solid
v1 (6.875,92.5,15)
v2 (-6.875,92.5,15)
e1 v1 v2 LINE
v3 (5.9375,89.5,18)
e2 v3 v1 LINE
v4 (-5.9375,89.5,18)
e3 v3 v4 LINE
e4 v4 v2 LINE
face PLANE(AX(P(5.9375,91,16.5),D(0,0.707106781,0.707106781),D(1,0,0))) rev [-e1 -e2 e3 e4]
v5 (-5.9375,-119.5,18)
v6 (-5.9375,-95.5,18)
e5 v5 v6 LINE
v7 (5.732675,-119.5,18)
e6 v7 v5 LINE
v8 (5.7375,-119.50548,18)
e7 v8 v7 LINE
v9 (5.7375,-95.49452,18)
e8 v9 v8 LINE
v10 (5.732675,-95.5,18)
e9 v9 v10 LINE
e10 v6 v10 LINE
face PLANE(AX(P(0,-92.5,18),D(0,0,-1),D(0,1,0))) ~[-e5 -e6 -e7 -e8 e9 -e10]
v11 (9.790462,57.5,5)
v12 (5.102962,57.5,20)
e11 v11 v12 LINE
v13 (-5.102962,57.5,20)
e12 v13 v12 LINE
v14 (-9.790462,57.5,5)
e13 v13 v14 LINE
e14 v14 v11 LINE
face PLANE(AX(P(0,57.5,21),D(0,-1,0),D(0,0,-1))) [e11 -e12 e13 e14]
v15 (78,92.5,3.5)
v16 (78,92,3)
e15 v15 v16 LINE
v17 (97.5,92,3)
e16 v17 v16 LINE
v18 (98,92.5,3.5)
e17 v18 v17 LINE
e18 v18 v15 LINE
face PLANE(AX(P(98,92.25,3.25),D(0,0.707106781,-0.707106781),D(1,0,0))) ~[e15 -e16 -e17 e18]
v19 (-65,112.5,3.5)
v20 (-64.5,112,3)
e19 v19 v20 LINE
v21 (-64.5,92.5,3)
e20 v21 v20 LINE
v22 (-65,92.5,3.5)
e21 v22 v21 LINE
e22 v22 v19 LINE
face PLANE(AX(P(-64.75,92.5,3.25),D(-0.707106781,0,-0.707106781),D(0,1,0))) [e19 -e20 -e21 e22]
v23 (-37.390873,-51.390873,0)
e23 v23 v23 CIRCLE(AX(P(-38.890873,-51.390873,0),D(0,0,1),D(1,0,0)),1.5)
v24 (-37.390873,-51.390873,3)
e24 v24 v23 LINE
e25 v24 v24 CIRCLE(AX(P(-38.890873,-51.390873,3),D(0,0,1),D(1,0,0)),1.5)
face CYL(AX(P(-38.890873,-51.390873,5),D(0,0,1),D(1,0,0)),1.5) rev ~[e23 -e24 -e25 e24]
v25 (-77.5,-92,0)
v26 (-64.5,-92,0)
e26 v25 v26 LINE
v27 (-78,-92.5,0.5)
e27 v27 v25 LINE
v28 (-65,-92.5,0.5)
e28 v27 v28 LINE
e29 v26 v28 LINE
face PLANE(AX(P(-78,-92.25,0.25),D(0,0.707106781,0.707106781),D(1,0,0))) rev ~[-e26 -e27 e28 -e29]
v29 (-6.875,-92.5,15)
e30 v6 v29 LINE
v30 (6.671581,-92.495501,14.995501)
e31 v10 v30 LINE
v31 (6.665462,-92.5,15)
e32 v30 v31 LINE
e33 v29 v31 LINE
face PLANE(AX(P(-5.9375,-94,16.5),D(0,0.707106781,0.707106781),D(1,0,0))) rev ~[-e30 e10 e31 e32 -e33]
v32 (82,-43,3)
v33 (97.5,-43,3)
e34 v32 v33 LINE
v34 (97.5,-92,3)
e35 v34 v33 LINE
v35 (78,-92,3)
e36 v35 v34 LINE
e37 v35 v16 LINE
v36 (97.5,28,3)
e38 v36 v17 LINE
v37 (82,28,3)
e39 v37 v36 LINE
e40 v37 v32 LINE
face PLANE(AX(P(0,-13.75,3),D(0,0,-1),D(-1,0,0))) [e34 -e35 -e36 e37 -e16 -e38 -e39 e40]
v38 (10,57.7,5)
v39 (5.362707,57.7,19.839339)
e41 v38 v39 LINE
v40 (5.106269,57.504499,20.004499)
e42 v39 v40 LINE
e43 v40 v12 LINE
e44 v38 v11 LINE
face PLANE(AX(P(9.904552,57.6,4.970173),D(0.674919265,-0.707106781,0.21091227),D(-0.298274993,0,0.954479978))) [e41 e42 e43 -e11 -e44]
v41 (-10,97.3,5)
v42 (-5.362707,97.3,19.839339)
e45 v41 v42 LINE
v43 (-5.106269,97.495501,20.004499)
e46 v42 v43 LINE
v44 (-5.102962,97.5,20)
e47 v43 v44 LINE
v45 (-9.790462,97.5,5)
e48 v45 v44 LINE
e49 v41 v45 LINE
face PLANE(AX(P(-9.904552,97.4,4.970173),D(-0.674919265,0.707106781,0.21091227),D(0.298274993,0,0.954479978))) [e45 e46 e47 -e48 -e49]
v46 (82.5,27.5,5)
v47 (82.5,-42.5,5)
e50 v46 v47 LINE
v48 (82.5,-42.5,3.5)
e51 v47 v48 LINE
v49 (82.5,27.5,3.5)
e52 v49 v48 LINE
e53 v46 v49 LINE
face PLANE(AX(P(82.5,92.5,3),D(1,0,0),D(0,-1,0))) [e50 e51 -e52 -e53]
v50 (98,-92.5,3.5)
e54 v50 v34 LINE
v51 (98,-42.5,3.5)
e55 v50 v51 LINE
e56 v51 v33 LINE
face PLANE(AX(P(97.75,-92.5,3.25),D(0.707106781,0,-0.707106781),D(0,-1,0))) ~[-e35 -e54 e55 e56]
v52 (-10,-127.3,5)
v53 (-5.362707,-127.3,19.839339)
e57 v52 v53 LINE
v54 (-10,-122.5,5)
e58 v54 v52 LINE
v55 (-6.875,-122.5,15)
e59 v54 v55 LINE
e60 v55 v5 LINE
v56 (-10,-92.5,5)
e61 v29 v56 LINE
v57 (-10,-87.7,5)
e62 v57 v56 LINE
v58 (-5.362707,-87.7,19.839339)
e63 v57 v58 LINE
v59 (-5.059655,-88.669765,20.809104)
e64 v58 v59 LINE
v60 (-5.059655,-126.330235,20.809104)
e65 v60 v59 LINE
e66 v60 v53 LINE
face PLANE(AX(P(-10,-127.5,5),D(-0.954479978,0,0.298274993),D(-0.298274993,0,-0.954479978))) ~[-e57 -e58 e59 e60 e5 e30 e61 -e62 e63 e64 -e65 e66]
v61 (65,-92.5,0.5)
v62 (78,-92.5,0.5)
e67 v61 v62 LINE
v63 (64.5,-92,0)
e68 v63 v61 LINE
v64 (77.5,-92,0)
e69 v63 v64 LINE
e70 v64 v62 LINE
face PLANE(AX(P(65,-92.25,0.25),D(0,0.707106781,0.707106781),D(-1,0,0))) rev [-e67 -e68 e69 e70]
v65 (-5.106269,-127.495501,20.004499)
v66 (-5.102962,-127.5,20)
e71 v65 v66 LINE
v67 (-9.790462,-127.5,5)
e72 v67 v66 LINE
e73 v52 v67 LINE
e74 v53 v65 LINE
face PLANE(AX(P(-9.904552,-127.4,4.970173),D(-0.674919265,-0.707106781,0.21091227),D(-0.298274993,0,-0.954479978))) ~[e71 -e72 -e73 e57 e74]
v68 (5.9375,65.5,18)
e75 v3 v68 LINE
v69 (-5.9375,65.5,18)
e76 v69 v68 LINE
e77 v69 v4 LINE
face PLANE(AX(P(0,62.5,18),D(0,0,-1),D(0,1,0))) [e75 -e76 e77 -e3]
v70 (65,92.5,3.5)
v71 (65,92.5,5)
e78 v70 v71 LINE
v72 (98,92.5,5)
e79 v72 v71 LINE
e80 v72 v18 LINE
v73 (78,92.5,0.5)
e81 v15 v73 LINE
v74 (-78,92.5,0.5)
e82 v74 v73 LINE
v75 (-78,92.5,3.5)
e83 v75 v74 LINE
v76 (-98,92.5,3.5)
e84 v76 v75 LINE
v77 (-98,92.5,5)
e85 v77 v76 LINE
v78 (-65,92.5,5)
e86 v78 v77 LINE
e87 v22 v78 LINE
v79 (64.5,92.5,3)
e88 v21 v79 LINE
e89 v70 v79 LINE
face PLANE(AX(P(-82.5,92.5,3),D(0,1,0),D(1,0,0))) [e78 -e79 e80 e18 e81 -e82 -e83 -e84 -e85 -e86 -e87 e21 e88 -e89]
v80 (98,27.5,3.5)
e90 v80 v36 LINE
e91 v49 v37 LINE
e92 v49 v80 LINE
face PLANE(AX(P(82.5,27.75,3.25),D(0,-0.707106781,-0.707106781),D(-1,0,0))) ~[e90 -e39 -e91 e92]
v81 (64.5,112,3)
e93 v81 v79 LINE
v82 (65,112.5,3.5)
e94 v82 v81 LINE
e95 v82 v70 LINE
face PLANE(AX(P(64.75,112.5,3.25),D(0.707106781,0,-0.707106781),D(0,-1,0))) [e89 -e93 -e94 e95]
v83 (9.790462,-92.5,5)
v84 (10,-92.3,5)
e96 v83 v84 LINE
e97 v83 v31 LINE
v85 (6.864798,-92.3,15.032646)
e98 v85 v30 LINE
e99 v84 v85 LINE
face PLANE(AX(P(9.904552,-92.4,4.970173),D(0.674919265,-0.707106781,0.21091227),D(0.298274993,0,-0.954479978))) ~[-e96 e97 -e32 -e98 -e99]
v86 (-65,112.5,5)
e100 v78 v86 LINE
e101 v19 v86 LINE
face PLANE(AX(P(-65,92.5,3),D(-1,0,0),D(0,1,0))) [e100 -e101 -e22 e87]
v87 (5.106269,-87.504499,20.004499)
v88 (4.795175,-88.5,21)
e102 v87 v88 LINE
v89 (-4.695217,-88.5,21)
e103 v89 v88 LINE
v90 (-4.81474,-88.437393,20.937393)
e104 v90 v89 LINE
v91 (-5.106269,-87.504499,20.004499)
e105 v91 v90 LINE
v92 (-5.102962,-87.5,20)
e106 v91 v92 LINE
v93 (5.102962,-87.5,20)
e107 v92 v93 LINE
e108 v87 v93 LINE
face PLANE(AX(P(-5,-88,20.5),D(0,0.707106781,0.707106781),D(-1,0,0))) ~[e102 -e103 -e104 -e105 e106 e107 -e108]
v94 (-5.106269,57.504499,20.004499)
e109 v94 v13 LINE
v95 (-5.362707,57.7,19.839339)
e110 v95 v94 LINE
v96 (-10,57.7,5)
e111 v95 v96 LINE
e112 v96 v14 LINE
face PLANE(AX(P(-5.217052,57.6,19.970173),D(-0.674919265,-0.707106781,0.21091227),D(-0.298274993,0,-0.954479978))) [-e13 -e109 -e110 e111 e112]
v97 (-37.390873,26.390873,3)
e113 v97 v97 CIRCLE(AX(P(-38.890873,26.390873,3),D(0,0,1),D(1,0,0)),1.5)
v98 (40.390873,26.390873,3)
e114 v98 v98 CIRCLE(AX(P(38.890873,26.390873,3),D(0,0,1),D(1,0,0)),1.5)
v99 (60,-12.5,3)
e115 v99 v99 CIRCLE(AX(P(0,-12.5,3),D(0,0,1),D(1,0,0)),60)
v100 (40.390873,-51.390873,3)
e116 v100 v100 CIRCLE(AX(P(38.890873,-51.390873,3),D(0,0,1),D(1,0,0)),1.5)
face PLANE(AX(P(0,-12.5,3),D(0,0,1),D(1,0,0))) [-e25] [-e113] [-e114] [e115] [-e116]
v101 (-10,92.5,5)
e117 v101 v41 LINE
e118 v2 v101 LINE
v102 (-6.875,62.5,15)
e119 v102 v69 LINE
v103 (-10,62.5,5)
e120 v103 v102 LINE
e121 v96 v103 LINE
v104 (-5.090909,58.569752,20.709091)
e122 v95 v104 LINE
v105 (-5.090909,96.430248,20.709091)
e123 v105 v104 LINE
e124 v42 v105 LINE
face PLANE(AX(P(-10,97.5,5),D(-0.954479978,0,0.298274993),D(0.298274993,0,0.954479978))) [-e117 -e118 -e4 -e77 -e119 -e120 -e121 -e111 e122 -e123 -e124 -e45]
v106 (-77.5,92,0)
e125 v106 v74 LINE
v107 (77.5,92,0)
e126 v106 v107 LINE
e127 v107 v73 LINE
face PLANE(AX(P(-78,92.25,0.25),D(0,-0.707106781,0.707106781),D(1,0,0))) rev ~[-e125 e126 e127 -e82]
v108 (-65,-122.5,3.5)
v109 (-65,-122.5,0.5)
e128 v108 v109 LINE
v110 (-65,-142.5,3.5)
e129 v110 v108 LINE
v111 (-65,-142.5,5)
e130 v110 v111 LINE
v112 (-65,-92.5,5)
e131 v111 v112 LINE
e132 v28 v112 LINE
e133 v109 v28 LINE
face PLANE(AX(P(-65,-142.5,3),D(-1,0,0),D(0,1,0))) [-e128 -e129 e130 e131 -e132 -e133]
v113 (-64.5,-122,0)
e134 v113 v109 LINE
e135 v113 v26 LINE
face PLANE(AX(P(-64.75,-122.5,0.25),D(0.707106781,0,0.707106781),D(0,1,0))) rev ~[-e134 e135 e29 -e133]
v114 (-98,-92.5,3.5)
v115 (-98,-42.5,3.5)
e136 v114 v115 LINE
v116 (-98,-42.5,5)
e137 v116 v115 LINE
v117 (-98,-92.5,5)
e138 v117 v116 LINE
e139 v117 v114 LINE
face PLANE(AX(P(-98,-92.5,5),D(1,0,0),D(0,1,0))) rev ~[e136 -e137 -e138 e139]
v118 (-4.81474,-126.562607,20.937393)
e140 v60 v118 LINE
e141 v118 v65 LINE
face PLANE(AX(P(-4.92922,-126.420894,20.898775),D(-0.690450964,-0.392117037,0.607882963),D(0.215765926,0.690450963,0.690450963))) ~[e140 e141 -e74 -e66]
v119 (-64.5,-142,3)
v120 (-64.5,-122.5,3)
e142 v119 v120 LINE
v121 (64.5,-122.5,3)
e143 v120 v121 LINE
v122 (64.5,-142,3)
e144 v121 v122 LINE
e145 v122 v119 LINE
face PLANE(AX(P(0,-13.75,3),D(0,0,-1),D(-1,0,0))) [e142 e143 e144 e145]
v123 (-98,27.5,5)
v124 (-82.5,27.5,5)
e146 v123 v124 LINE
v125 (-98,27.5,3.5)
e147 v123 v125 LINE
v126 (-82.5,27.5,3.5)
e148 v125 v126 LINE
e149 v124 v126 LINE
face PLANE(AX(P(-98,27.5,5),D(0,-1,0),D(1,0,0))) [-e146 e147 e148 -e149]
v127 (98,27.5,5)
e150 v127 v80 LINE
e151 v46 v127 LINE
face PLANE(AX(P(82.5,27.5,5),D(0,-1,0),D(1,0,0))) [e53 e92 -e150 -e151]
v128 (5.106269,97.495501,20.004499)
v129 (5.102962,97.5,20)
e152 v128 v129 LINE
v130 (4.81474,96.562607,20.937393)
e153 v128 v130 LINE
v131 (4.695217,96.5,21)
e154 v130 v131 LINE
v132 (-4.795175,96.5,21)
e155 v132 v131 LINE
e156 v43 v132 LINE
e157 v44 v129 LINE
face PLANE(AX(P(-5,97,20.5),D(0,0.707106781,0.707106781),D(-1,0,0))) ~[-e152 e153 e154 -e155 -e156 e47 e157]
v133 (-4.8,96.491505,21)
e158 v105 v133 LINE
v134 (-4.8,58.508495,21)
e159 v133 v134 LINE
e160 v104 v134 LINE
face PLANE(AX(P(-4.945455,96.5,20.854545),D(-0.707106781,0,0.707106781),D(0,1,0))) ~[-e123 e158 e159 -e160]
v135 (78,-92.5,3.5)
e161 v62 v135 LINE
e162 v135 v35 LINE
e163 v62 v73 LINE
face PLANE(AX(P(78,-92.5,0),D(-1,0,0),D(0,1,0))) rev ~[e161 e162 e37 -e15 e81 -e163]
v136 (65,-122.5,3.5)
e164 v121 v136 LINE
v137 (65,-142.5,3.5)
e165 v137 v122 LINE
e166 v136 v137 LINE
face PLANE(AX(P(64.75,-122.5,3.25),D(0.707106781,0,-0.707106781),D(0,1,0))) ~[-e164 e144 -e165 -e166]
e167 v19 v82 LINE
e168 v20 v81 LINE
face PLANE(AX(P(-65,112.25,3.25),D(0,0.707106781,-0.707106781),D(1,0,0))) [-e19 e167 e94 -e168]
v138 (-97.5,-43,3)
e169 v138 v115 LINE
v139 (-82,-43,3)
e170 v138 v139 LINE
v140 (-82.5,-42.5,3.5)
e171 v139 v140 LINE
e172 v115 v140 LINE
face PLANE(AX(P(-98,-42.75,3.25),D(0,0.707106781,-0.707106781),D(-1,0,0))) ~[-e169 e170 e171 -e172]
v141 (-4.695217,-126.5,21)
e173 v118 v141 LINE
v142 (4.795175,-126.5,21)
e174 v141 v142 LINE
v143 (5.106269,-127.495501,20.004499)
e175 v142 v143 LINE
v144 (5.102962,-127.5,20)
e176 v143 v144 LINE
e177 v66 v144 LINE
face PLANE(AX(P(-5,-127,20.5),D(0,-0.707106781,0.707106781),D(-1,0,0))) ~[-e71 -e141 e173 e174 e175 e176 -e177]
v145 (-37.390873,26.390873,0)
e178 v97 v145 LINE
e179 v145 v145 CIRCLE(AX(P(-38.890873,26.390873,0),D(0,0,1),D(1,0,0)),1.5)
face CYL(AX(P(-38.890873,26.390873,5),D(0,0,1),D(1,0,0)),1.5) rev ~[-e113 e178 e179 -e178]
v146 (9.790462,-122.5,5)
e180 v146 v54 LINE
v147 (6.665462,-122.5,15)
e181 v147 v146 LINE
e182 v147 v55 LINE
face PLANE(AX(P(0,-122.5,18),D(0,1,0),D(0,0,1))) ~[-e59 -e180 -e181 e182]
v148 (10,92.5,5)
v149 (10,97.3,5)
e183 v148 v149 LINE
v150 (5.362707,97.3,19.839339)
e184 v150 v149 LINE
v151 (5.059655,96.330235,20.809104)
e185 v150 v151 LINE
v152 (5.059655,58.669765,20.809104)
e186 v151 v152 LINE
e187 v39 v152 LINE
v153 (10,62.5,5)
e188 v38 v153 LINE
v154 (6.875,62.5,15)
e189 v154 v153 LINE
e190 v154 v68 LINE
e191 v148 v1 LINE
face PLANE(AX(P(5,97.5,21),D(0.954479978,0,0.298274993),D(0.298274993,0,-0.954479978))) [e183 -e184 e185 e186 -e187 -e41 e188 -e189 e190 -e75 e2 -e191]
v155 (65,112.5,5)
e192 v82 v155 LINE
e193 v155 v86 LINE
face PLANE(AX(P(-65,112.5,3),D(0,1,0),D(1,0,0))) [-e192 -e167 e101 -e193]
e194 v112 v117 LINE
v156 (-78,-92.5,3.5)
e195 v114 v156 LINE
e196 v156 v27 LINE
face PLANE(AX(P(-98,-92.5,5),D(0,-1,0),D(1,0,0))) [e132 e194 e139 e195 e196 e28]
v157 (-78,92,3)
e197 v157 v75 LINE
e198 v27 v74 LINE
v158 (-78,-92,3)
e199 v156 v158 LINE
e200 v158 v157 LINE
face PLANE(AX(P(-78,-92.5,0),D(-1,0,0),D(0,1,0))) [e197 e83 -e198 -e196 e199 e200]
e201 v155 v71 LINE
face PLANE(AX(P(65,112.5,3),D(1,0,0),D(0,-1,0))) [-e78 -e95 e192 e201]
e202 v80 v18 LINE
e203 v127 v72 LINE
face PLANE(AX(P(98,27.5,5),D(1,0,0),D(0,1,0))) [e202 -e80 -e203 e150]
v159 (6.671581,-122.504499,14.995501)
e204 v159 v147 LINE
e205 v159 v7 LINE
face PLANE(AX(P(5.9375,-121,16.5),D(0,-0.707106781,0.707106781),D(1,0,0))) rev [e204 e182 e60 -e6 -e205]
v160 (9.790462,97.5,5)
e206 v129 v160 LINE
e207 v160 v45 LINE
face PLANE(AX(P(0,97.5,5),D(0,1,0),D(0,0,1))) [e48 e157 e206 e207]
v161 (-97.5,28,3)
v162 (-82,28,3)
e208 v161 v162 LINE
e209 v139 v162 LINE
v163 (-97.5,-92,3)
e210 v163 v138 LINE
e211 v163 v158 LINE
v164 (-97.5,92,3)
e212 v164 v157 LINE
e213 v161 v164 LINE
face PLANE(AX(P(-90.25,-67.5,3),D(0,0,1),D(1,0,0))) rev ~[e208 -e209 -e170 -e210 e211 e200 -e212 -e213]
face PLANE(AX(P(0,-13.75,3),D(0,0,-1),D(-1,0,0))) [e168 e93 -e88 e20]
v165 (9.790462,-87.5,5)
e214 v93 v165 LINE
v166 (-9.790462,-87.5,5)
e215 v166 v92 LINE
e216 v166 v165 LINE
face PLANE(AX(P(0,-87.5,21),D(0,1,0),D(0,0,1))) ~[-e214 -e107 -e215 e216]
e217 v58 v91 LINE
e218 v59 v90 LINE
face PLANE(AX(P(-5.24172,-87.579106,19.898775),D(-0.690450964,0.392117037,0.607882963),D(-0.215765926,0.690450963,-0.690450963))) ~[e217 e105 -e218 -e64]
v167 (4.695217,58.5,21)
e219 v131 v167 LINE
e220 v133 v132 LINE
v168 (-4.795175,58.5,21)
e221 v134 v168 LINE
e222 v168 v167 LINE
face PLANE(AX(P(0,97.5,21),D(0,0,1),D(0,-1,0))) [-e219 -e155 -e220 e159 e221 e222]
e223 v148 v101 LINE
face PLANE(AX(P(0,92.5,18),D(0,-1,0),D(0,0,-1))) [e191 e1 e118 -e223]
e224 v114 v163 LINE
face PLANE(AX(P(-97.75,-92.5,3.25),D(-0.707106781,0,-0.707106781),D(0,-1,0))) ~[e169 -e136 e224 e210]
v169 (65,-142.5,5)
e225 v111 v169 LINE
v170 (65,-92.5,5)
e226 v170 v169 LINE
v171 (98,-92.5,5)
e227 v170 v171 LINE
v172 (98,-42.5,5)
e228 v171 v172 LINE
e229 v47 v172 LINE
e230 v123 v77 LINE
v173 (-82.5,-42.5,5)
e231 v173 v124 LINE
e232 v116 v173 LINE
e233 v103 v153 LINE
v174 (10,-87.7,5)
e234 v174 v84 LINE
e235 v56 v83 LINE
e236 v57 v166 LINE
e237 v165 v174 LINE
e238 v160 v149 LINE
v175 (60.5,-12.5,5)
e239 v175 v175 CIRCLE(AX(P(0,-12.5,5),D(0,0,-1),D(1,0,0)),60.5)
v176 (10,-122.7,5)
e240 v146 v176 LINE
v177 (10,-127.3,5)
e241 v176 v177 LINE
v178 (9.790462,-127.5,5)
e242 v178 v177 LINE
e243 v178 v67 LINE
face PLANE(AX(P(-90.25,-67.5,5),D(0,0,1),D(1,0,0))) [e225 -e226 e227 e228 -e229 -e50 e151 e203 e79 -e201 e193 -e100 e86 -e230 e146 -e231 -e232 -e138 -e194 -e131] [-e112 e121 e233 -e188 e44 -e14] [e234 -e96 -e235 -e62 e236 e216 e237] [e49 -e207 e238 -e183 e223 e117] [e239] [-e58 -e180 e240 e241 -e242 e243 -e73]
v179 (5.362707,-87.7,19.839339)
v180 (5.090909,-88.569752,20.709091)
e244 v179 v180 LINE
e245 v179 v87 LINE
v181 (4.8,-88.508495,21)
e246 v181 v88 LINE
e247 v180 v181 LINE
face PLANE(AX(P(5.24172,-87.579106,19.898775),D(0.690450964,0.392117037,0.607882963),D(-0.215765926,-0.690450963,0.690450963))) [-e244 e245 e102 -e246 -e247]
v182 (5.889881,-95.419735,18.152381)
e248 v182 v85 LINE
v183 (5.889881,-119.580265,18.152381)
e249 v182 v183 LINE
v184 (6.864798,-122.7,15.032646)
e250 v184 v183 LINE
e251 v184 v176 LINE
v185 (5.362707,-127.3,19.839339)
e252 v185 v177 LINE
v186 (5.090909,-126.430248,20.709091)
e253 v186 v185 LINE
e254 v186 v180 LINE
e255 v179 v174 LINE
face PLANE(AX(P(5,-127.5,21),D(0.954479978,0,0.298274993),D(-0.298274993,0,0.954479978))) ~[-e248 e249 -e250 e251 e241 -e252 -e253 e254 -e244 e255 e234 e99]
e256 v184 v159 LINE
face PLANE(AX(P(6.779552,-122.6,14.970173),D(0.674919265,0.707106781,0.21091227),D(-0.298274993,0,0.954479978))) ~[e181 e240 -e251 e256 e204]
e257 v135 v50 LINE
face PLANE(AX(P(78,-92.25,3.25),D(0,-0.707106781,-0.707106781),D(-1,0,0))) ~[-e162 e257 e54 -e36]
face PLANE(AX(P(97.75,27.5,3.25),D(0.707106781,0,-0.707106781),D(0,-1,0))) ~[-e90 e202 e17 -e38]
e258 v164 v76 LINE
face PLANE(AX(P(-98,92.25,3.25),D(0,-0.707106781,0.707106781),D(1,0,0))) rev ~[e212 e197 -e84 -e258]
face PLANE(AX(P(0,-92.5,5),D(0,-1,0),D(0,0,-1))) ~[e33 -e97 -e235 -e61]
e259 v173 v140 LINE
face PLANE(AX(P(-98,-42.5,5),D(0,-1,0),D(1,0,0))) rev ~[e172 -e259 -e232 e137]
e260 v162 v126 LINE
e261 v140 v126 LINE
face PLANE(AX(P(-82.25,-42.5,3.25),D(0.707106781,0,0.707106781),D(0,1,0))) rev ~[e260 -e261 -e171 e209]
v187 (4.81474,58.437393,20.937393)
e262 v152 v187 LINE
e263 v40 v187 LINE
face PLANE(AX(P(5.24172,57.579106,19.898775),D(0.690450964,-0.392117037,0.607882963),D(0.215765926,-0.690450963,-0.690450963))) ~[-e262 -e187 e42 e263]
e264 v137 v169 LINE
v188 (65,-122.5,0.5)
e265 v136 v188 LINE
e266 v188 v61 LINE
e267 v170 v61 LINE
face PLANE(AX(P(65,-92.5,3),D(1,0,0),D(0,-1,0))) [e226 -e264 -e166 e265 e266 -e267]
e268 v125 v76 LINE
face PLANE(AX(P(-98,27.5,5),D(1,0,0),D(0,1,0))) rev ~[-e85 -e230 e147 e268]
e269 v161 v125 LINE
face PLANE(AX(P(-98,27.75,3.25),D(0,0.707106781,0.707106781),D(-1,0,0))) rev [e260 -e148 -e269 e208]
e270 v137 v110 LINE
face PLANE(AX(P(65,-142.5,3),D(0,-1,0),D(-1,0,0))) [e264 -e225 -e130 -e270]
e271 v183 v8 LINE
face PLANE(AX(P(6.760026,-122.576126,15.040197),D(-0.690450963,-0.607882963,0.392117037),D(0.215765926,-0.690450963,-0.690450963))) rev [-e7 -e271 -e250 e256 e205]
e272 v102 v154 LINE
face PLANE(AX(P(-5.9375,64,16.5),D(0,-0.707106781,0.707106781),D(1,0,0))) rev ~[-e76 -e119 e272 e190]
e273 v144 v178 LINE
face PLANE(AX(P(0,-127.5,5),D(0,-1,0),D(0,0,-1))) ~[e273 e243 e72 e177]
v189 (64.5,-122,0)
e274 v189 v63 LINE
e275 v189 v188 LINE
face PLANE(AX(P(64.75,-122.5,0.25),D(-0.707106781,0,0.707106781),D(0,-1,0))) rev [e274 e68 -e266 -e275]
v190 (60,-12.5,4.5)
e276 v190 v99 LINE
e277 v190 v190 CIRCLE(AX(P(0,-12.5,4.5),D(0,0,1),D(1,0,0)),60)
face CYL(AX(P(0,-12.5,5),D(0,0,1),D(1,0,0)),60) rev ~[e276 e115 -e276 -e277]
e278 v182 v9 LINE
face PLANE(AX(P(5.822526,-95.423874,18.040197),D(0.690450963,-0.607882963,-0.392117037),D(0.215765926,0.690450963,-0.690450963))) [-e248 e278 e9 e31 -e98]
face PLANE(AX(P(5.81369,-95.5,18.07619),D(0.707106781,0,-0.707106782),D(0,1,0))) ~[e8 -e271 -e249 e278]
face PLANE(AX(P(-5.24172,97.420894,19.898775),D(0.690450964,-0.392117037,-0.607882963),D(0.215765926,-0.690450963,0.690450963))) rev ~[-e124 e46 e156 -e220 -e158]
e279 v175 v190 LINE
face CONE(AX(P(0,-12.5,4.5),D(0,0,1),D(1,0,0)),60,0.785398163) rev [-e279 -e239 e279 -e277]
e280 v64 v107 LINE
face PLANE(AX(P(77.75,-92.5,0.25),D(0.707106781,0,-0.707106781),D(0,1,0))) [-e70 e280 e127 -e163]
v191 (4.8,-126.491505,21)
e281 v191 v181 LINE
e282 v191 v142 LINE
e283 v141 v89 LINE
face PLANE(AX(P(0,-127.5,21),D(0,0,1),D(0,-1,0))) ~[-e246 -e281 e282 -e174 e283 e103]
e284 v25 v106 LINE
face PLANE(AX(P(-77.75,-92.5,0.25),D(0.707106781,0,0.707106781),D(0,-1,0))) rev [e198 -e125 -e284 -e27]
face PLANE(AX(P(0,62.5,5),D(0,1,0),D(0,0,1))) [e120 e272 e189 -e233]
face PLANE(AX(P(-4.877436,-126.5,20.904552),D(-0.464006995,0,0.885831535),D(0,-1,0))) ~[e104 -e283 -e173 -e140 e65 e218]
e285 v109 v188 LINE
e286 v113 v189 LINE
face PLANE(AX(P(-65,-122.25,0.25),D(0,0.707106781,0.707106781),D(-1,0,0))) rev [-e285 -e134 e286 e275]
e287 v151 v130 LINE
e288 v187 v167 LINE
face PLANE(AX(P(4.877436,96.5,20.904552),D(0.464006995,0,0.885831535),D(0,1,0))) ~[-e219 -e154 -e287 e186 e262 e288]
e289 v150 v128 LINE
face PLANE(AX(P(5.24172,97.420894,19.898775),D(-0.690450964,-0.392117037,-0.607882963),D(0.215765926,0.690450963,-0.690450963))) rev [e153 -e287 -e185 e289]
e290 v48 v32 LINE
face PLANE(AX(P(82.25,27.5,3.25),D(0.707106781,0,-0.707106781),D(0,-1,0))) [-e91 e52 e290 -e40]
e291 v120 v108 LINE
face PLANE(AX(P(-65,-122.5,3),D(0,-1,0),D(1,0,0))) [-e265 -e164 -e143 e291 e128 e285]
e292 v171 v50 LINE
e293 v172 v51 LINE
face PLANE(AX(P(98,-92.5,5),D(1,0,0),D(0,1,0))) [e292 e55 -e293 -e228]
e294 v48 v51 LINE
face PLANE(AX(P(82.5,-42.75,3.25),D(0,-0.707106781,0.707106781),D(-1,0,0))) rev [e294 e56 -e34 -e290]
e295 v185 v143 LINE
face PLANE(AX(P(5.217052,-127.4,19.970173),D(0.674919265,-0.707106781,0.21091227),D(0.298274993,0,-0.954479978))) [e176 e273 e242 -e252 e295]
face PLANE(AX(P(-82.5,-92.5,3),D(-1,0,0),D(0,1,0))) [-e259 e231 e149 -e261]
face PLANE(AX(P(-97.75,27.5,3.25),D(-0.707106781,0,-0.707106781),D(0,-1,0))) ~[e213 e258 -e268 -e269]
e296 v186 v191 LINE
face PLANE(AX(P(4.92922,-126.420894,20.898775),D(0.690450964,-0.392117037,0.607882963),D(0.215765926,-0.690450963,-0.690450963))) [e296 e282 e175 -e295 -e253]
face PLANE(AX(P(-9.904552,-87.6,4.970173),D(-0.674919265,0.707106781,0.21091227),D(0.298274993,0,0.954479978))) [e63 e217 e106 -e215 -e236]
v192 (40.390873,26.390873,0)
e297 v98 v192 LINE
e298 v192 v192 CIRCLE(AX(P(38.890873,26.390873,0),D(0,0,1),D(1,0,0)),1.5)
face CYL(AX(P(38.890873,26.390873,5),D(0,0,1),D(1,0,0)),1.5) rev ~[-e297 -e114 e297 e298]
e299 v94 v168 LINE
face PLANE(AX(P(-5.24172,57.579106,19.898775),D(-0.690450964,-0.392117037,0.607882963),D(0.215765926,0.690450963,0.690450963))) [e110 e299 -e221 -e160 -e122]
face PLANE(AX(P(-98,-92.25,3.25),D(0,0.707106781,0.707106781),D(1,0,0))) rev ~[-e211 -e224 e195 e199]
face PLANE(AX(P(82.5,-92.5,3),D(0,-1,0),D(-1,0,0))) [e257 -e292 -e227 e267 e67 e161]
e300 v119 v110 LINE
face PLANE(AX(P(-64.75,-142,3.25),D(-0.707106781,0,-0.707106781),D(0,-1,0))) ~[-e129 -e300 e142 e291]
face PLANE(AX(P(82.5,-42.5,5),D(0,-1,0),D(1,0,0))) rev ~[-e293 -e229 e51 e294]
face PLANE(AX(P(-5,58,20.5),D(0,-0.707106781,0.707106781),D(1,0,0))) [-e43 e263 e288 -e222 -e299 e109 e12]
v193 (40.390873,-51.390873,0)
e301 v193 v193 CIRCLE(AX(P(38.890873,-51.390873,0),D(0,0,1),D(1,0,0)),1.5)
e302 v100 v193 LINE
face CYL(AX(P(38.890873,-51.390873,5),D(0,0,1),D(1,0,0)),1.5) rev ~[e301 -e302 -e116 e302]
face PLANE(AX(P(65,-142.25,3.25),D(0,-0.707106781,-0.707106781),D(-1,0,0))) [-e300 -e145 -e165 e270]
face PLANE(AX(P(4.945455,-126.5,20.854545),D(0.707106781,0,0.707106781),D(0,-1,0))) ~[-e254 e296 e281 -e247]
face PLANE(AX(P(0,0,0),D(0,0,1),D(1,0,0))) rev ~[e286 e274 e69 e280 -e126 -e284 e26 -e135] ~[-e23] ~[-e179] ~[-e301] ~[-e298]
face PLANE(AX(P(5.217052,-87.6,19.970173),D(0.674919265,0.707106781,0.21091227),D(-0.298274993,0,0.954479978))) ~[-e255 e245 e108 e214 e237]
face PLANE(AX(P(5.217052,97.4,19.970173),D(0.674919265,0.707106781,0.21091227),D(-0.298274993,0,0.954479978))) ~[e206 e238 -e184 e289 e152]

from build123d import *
from OCP.BRepFilletAPI import BRepFilletAPI_MakeChamfer

# Parameters (mm, degrees)
SKETCH_1_W          = 156
SKETCH_1_H          = 185
EXTRUDE_1_DEPTH     = 3
SKETCH_2_W          = 130
SKETCH_2_H          = 30
EXTRUDE_2_DEPTH     = 3
EXTRUDE_3_DEPTH     = 2
SKETCH_4_W          = 15.5
SKETCH_4_H          = 50
SKETCH_4_H_2        = 65
EXTRUDE_4_DEPTH     = 2
SKETCH_5_R          = 1.5
CUT_EXTRUDE_1_DEPTH = 174.018062641
CHAMFER_1_SIZE      = 0.5
CHAMFER_2_SIZE      = 0.5
CHAMFER_3_SIZE      = 0.5
SKETCH_6_R          = 60
CUT_EXTRUDE_2_DEPTH = 2
CHAMFER_4_SIZE      = 0.5
EXTRUDE_5_DEPTH     = 10
CUT_EXTRUDE_3_DEPTH = 261.086524065
CHAMFER_5_SIZE      = 3
CHAMFER_6_SIZE      = 1
CHAMFER_7_SIZE      = 0.2
CHAMFER_7_SIZE2     = 0.159648139
CHAMFER_7_SIZE2_2   = 0.168291059
CHAMFER_7_SIZE2_3   = 0.304782811
CHAMFER_7_SIZE2_4   = 0.260894728


with BuildPart() as part:
    # 草图1 → 凸台-拉伸1 (new body)
    with BuildSketch(Plane.XY):
        Rectangle(SKETCH_1_W, SKETCH_1_H)
    extrude(amount=EXTRUDE_1_DEPTH)

    # 草图2 → 凸台-拉伸2 (add)
    with BuildSketch(Plane.XY.offset(3)):
        with Locations((0, -107.5)):
            Rectangle(SKETCH_2_W, SKETCH_2_H)
    extrude(amount=-EXTRUDE_2_DEPTH)

    # 草图3 → 凸台-拉伸3 (add)
    with BuildSketch(Plane.XY.offset(3)):
        Polygon((-82.5, 92.5), (-65, 92.5), (-65, 112.5), (65, 112.5), (65, 92.5), (82.5, 92.5), (82.5, -92.5), (65, -92.5), (65, -142.5), (-65, -142.5), (-65, -92.5), (-82.5, -92.5), align=None)
    extrude(amount=EXTRUDE_3_DEPTH)

    # 草图4 → 凸台-拉伸4 (add)
    with BuildSketch(Plane.XY.offset(5)):
        with Locations((-90.25, -67.5)):
            Rectangle(SKETCH_4_W, SKETCH_4_H)
        with Locations((-90.25, 60)):
            Rectangle(SKETCH_4_W, SKETCH_4_H_2)
        with Locations((90.25, 60)):
            Rectangle(SKETCH_4_W, SKETCH_4_H_2)
        with Locations((90.25, -67.5)):
            Rectangle(SKETCH_4_W, SKETCH_4_H)
    extrude(amount=-EXTRUDE_4_DEPTH)

    # 草图5 → 切除-拉伸1 (cut, through all)
    with BuildSketch(Plane.XY.offset(5)):
        with Locations((-38.890872965, 26.390872965)):
            Circle(SKETCH_5_R)
        with Locations((38.890872965, 26.390872965)):
            Circle(SKETCH_5_R)
        with Locations((38.890872965, -51.390872965)):
            Circle(SKETCH_5_R)
        with Locations((-38.890872965, -51.390872965)):
            Circle(SKETCH_5_R)
    extrude(amount=-CUT_EXTRUDE_1_DEPTH, mode=Mode.SUBTRACT)

    # 倒角1
    chamfer_1_edges = [part.edges().sort_by_distance(p)[0] for p in [
        (71.5, -92.5, 0),
        (-65, -107.5, 0),
        (65, -107.5, 0),
        (0, -122.5, 0),
        (0, 92.5, 0),
        (78, 0, 0),
        (-71.5, -92.5, 0),
        (-78, 0, 0),
    ]]
    chamfer(chamfer_1_edges, length=CHAMFER_1_SIZE)

    # 倒角2
    chamfer_2_edges = [part.edges().sort_by_distance(p)[0] for p in [
        (-88, 92.5, 3),
        (88, 92.5, 3),
        (-82.5, -7.5, 3),
        (-90.25, 27.5, 3),
        (-98, 60, 3),
        (-88, -92.5, 3),
        (-98, -67.5, 3),
        (-90.25, -42.5, 3),
        (98, 60, 3),
        (90.25, 27.5, 3),
        (82.5, -7.5, 3),
        (90.25, -42.5, 3),
        (98, -67.5, 3),
        (88, -92.5, 3),
        (-65, 102.5, 3),
        (65, 102.5, 3),
        (0, 112.5, 3),
        (0, -142.5, 3),
        (65, -132.5, 3),
    ]]
    chamfer(chamfer_2_edges, length=CHAMFER_2_SIZE)

    # 倒角3
    chamfer_3_edges = [part.edges().sort_by_distance(p)[0] for p in [
        (-65, -132.25, 3),
    ]]
    chamfer(chamfer_3_edges, length=CHAMFER_3_SIZE)

    # 草图6 → 切除-拉伸2 (cut)
    with BuildSketch(Plane.XY.offset(5)):
        with Locations((0, -12.5)):
            Circle(SKETCH_6_R)
    extrude(amount=-CUT_EXTRUDE_2_DEPTH, mode=Mode.SUBTRACT)

    # 倒角4
    chamfer_4_edges = [part.edges().sort_by_distance(p)[0] for p in [
        (-60, -12.5, 5),
    ]]
    chamfer(chamfer_4_edges, length=CHAMFER_4_SIZE)

    # 草图7 → 凸台-拉伸5 (add, symmetric)
    with BuildSketch(Plane(origin=(0, 0, 0), x_dir=(0, 0, -1), z_dir=(1, 0, 0))):
        Polygon((-5, 97.5), (-21, 97.5), (-21, 57.5), (-5, 57.5), (-5, 62.5), (-18, 62.5), (-18, 92.5), (-5, 92.5), align=None)
    extrude_5 = extrude(amount=EXTRUDE_5_DEPTH, both=True)

    # 草图8 → 切除-拉伸3 (cut, through all)
    with BuildSketch(Plane(origin=(0, 97.5, 0), x_dir=(1, 0, 0), z_dir=(0, 1, 0))):
        Polygon((-10, -5), (-5, -21), (-10, -21), align=None)
        Polygon((10, -5), (10, -21), (5, -21), align=None)
    cut_extrude_3 = extrude(amount=-CUT_EXTRUDE_3_DEPTH, mode=Mode.SUBTRACT)

    # 镜向2: 凸台-拉伸5, 切除-拉伸3 across plane
    add(extrude_5.mirror(Plane(origin=(0, -15, 0), x_dir=(0, 0, 1), z_dir=(0, -1, 0))))
    add(cut_extrude_3.mirror(Plane(origin=(0, -15, 0), x_dir=(0, 0, 1), z_dir=(0, -1, 0))), mode=Mode.SUBTRACT)

    # 倒角5
    chamfer_5_edges = [part.edges().sort_by_distance(p)[0] for p in [
        (0, 62.5, 18),
        (0, 92.5, 18),
        (0, -122.5, 18),
        (0, -92.5, 18),
    ]]
    chamfer(chamfer_5_edges, length=CHAMFER_5_SIZE)

    # 倒角6
    chamfer_6_edges = [part.edges().sort_by_distance(p)[0] for p in [
        (0, 97.5, 21),
        (0, 57.5, 21),
        (0, -87.5, 21),
        (0, -127.5, 21),
    ]]
    chamfer(chamfer_6_edges, length=CHAMFER_6_SIZE)

    # 倒角7: one chamfer whose edges measure the first distance from different faces: ONE call of the kernel's chamfer builder (chamfer() names one face for all edges)
    chamfer_7_edges_1 = [part.edges().sort_by_distance(p)[0] for p in [
        (-7.65625, 57.5, 12.5),
        (7.65625, 97.5, 12.5),
        (7.65625, -87.5, 12.5),
        (7.65625, -127.5, 12.5),
        (8.4375, -122.5, 10),
        (8.4375, -92.5, 10),
        (-7.65625, -87.5, 12.5),
        (-7.65625, -127.5, 12.5),
        (7.65625, 57.5, 12.5),
        (-7.65625, 97.5, 12.5),
    ]]
    chamfer_7_edges_2 = [part.edges().sort_by_distance(p)[0] for p in [
        (5.9375, -107.5, 18),
    ]]
    chamfer_7_side_2 = [part.faces().sort_by_distance(p)[0] for p in [
        (0, -107.5, 18),
    ]]
    chamfer_7_edges_3 = [part.edges().sort_by_distance(p)[0] for p in [
        (6.40625, -121, 16.5),
    ]]
    chamfer_7_side_3 = [part.faces().sort_by_distance(p)[0] for p in [
        (0, -121.036585366, 16.463414634),
    ]]
    chamfer_7_edges_4 = [part.edges().sort_by_distance(p)[0] for p in [
        (6.40625, -94, 16.5),
    ]]
    chamfer_7_side_4 = [part.faces().sort_by_distance(p)[0] for p in [
        (0, -93.963414634, 16.463414634),
    ]]
    chamfer_7_edges_5 = [part.edges().sort_by_distance(p)[0] for p in [
        (5, -107.5, 21),
    ]]
    chamfer_7_side_5 = [part.faces().sort_by_distance(p)[0] for p in [
        (0, -107.5, 21),
    ]]
    chamfer_7_edges_6 = [part.edges().sort_by_distance(p)[0] for p in [
        (5.15625, -127, 20.5),
        (-5.15625, -127, 20.5),
    ]]
    chamfer_7_side_6 = [part.faces().sort_by_distance(p)[0] for p in [
        (0, -127.005050505, 20.494949495),
    ]]
    chamfer_7_edges_7 = [part.edges().sort_by_distance(p)[0] for p in [
        (5.15625, -88, 20.5),
        (-5.15625, -88, 20.5),
    ]]
    chamfer_7_side_7 = [part.faces().sort_by_distance(p)[0] for p in [
        (0, -87.994949495, 20.494949495),
    ]]
    chamfer_7_edges_8 = [part.edges().sort_by_distance(p)[0] for p in [
        (-5, -107.5, 21),
    ]]
    chamfer_7_side_8 = [part.faces().sort_by_distance(p)[0] for p in [
        (-7.65625, -87.933704969, 12.5),
    ]]
    chamfer_7_edges_9 = [part.edges().sort_by_distance(p)[0] for p in [
        (-5, 77.5, 21),
    ]]
    chamfer_7_side_9 = [part.faces().sort_by_distance(p)[0] for p in [
        (0, 77.5, 21),
    ]]
    chamfer_7_edges_10 = [part.edges().sort_by_distance(p)[0] for p in [
        (5, 77.5, 21),
    ]]
    chamfer_7_side_10 = [part.faces().sort_by_distance(p)[0] for p in [
        (7.65625, 97.066295031, 12.5),
    ]]
    chamfer_7_edges_11 = [part.edges().sort_by_distance(p)[0] for p in [
        (5.15625, 97, 20.5),
        (-5.15625, 97, 20.5),
    ]]
    chamfer_7_side_11 = [part.faces().sort_by_distance(p)[0] for p in [
        (0, 97.005050505, 20.494949495),
    ]]
    chamfer_7_edges_12 = [part.edges().sort_by_distance(p)[0] for p in [
        (5.15625, 58, 20.5),
        (-5.15625, 58, 20.5),
    ]]
    chamfer_7_side_12 = [part.faces().sort_by_distance(p)[0] for p in [
        (0, 57.994949495, 20.494949495),
    ]]
    chamfer_7 = BRepFilletAPI_MakeChamfer(part.part.solid().wrapped)
    for e in chamfer_7_edges_1:
        chamfer_7.Add(CHAMFER_7_SIZE, e.wrapped)
    for e in chamfer_7_edges_2:
        chamfer_7.Add(CHAMFER_7_SIZE, CHAMFER_7_SIZE2, e.wrapped, chamfer_7_side_2[0].wrapped)  # the first distance lies on this face
    for e in chamfer_7_edges_3:
        chamfer_7.Add(CHAMFER_7_SIZE, CHAMFER_7_SIZE2_2, e.wrapped, chamfer_7_side_3[0].wrapped)  # the first distance lies on this face
    for e in chamfer_7_edges_4:
        chamfer_7.Add(CHAMFER_7_SIZE, CHAMFER_7_SIZE2_2, e.wrapped, chamfer_7_side_4[0].wrapped)  # the first distance lies on this face
    for e in chamfer_7_edges_5:
        chamfer_7.Add(CHAMFER_7_SIZE, CHAMFER_7_SIZE2_3, e.wrapped, chamfer_7_side_5[0].wrapped)  # the first distance lies on this face
    for e in chamfer_7_edges_6:
        chamfer_7.Add(CHAMFER_7_SIZE, CHAMFER_7_SIZE2_4, e.wrapped, chamfer_7_side_6[0].wrapped)  # the first distance lies on this face
    for e in chamfer_7_edges_7:
        chamfer_7.Add(CHAMFER_7_SIZE, CHAMFER_7_SIZE2_4, e.wrapped, chamfer_7_side_7[0].wrapped)  # the first distance lies on this face
    for e in chamfer_7_edges_8:
        chamfer_7.Add(CHAMFER_7_SIZE, CHAMFER_7_SIZE2_3, e.wrapped, chamfer_7_side_8[0].wrapped)  # the first distance lies on this face
    for e in chamfer_7_edges_9:
        chamfer_7.Add(CHAMFER_7_SIZE, CHAMFER_7_SIZE2_3, e.wrapped, chamfer_7_side_9[0].wrapped)  # the first distance lies on this face
    for e in chamfer_7_edges_10:
        chamfer_7.Add(CHAMFER_7_SIZE, CHAMFER_7_SIZE2_3, e.wrapped, chamfer_7_side_10[0].wrapped)  # the first distance lies on this face
    for e in chamfer_7_edges_11:
        chamfer_7.Add(CHAMFER_7_SIZE, CHAMFER_7_SIZE2_4, e.wrapped, chamfer_7_side_11[0].wrapped)  # the first distance lies on this face
    for e in chamfer_7_edges_12:
        chamfer_7.Add(CHAMFER_7_SIZE, CHAMFER_7_SIZE2_4, e.wrapped, chamfer_7_side_12[0].wrapped)  # the first distance lies on this face
    add(Compound.cast(chamfer_7.Shape()), mode=Mode.REPLACE)


solid = part.part
